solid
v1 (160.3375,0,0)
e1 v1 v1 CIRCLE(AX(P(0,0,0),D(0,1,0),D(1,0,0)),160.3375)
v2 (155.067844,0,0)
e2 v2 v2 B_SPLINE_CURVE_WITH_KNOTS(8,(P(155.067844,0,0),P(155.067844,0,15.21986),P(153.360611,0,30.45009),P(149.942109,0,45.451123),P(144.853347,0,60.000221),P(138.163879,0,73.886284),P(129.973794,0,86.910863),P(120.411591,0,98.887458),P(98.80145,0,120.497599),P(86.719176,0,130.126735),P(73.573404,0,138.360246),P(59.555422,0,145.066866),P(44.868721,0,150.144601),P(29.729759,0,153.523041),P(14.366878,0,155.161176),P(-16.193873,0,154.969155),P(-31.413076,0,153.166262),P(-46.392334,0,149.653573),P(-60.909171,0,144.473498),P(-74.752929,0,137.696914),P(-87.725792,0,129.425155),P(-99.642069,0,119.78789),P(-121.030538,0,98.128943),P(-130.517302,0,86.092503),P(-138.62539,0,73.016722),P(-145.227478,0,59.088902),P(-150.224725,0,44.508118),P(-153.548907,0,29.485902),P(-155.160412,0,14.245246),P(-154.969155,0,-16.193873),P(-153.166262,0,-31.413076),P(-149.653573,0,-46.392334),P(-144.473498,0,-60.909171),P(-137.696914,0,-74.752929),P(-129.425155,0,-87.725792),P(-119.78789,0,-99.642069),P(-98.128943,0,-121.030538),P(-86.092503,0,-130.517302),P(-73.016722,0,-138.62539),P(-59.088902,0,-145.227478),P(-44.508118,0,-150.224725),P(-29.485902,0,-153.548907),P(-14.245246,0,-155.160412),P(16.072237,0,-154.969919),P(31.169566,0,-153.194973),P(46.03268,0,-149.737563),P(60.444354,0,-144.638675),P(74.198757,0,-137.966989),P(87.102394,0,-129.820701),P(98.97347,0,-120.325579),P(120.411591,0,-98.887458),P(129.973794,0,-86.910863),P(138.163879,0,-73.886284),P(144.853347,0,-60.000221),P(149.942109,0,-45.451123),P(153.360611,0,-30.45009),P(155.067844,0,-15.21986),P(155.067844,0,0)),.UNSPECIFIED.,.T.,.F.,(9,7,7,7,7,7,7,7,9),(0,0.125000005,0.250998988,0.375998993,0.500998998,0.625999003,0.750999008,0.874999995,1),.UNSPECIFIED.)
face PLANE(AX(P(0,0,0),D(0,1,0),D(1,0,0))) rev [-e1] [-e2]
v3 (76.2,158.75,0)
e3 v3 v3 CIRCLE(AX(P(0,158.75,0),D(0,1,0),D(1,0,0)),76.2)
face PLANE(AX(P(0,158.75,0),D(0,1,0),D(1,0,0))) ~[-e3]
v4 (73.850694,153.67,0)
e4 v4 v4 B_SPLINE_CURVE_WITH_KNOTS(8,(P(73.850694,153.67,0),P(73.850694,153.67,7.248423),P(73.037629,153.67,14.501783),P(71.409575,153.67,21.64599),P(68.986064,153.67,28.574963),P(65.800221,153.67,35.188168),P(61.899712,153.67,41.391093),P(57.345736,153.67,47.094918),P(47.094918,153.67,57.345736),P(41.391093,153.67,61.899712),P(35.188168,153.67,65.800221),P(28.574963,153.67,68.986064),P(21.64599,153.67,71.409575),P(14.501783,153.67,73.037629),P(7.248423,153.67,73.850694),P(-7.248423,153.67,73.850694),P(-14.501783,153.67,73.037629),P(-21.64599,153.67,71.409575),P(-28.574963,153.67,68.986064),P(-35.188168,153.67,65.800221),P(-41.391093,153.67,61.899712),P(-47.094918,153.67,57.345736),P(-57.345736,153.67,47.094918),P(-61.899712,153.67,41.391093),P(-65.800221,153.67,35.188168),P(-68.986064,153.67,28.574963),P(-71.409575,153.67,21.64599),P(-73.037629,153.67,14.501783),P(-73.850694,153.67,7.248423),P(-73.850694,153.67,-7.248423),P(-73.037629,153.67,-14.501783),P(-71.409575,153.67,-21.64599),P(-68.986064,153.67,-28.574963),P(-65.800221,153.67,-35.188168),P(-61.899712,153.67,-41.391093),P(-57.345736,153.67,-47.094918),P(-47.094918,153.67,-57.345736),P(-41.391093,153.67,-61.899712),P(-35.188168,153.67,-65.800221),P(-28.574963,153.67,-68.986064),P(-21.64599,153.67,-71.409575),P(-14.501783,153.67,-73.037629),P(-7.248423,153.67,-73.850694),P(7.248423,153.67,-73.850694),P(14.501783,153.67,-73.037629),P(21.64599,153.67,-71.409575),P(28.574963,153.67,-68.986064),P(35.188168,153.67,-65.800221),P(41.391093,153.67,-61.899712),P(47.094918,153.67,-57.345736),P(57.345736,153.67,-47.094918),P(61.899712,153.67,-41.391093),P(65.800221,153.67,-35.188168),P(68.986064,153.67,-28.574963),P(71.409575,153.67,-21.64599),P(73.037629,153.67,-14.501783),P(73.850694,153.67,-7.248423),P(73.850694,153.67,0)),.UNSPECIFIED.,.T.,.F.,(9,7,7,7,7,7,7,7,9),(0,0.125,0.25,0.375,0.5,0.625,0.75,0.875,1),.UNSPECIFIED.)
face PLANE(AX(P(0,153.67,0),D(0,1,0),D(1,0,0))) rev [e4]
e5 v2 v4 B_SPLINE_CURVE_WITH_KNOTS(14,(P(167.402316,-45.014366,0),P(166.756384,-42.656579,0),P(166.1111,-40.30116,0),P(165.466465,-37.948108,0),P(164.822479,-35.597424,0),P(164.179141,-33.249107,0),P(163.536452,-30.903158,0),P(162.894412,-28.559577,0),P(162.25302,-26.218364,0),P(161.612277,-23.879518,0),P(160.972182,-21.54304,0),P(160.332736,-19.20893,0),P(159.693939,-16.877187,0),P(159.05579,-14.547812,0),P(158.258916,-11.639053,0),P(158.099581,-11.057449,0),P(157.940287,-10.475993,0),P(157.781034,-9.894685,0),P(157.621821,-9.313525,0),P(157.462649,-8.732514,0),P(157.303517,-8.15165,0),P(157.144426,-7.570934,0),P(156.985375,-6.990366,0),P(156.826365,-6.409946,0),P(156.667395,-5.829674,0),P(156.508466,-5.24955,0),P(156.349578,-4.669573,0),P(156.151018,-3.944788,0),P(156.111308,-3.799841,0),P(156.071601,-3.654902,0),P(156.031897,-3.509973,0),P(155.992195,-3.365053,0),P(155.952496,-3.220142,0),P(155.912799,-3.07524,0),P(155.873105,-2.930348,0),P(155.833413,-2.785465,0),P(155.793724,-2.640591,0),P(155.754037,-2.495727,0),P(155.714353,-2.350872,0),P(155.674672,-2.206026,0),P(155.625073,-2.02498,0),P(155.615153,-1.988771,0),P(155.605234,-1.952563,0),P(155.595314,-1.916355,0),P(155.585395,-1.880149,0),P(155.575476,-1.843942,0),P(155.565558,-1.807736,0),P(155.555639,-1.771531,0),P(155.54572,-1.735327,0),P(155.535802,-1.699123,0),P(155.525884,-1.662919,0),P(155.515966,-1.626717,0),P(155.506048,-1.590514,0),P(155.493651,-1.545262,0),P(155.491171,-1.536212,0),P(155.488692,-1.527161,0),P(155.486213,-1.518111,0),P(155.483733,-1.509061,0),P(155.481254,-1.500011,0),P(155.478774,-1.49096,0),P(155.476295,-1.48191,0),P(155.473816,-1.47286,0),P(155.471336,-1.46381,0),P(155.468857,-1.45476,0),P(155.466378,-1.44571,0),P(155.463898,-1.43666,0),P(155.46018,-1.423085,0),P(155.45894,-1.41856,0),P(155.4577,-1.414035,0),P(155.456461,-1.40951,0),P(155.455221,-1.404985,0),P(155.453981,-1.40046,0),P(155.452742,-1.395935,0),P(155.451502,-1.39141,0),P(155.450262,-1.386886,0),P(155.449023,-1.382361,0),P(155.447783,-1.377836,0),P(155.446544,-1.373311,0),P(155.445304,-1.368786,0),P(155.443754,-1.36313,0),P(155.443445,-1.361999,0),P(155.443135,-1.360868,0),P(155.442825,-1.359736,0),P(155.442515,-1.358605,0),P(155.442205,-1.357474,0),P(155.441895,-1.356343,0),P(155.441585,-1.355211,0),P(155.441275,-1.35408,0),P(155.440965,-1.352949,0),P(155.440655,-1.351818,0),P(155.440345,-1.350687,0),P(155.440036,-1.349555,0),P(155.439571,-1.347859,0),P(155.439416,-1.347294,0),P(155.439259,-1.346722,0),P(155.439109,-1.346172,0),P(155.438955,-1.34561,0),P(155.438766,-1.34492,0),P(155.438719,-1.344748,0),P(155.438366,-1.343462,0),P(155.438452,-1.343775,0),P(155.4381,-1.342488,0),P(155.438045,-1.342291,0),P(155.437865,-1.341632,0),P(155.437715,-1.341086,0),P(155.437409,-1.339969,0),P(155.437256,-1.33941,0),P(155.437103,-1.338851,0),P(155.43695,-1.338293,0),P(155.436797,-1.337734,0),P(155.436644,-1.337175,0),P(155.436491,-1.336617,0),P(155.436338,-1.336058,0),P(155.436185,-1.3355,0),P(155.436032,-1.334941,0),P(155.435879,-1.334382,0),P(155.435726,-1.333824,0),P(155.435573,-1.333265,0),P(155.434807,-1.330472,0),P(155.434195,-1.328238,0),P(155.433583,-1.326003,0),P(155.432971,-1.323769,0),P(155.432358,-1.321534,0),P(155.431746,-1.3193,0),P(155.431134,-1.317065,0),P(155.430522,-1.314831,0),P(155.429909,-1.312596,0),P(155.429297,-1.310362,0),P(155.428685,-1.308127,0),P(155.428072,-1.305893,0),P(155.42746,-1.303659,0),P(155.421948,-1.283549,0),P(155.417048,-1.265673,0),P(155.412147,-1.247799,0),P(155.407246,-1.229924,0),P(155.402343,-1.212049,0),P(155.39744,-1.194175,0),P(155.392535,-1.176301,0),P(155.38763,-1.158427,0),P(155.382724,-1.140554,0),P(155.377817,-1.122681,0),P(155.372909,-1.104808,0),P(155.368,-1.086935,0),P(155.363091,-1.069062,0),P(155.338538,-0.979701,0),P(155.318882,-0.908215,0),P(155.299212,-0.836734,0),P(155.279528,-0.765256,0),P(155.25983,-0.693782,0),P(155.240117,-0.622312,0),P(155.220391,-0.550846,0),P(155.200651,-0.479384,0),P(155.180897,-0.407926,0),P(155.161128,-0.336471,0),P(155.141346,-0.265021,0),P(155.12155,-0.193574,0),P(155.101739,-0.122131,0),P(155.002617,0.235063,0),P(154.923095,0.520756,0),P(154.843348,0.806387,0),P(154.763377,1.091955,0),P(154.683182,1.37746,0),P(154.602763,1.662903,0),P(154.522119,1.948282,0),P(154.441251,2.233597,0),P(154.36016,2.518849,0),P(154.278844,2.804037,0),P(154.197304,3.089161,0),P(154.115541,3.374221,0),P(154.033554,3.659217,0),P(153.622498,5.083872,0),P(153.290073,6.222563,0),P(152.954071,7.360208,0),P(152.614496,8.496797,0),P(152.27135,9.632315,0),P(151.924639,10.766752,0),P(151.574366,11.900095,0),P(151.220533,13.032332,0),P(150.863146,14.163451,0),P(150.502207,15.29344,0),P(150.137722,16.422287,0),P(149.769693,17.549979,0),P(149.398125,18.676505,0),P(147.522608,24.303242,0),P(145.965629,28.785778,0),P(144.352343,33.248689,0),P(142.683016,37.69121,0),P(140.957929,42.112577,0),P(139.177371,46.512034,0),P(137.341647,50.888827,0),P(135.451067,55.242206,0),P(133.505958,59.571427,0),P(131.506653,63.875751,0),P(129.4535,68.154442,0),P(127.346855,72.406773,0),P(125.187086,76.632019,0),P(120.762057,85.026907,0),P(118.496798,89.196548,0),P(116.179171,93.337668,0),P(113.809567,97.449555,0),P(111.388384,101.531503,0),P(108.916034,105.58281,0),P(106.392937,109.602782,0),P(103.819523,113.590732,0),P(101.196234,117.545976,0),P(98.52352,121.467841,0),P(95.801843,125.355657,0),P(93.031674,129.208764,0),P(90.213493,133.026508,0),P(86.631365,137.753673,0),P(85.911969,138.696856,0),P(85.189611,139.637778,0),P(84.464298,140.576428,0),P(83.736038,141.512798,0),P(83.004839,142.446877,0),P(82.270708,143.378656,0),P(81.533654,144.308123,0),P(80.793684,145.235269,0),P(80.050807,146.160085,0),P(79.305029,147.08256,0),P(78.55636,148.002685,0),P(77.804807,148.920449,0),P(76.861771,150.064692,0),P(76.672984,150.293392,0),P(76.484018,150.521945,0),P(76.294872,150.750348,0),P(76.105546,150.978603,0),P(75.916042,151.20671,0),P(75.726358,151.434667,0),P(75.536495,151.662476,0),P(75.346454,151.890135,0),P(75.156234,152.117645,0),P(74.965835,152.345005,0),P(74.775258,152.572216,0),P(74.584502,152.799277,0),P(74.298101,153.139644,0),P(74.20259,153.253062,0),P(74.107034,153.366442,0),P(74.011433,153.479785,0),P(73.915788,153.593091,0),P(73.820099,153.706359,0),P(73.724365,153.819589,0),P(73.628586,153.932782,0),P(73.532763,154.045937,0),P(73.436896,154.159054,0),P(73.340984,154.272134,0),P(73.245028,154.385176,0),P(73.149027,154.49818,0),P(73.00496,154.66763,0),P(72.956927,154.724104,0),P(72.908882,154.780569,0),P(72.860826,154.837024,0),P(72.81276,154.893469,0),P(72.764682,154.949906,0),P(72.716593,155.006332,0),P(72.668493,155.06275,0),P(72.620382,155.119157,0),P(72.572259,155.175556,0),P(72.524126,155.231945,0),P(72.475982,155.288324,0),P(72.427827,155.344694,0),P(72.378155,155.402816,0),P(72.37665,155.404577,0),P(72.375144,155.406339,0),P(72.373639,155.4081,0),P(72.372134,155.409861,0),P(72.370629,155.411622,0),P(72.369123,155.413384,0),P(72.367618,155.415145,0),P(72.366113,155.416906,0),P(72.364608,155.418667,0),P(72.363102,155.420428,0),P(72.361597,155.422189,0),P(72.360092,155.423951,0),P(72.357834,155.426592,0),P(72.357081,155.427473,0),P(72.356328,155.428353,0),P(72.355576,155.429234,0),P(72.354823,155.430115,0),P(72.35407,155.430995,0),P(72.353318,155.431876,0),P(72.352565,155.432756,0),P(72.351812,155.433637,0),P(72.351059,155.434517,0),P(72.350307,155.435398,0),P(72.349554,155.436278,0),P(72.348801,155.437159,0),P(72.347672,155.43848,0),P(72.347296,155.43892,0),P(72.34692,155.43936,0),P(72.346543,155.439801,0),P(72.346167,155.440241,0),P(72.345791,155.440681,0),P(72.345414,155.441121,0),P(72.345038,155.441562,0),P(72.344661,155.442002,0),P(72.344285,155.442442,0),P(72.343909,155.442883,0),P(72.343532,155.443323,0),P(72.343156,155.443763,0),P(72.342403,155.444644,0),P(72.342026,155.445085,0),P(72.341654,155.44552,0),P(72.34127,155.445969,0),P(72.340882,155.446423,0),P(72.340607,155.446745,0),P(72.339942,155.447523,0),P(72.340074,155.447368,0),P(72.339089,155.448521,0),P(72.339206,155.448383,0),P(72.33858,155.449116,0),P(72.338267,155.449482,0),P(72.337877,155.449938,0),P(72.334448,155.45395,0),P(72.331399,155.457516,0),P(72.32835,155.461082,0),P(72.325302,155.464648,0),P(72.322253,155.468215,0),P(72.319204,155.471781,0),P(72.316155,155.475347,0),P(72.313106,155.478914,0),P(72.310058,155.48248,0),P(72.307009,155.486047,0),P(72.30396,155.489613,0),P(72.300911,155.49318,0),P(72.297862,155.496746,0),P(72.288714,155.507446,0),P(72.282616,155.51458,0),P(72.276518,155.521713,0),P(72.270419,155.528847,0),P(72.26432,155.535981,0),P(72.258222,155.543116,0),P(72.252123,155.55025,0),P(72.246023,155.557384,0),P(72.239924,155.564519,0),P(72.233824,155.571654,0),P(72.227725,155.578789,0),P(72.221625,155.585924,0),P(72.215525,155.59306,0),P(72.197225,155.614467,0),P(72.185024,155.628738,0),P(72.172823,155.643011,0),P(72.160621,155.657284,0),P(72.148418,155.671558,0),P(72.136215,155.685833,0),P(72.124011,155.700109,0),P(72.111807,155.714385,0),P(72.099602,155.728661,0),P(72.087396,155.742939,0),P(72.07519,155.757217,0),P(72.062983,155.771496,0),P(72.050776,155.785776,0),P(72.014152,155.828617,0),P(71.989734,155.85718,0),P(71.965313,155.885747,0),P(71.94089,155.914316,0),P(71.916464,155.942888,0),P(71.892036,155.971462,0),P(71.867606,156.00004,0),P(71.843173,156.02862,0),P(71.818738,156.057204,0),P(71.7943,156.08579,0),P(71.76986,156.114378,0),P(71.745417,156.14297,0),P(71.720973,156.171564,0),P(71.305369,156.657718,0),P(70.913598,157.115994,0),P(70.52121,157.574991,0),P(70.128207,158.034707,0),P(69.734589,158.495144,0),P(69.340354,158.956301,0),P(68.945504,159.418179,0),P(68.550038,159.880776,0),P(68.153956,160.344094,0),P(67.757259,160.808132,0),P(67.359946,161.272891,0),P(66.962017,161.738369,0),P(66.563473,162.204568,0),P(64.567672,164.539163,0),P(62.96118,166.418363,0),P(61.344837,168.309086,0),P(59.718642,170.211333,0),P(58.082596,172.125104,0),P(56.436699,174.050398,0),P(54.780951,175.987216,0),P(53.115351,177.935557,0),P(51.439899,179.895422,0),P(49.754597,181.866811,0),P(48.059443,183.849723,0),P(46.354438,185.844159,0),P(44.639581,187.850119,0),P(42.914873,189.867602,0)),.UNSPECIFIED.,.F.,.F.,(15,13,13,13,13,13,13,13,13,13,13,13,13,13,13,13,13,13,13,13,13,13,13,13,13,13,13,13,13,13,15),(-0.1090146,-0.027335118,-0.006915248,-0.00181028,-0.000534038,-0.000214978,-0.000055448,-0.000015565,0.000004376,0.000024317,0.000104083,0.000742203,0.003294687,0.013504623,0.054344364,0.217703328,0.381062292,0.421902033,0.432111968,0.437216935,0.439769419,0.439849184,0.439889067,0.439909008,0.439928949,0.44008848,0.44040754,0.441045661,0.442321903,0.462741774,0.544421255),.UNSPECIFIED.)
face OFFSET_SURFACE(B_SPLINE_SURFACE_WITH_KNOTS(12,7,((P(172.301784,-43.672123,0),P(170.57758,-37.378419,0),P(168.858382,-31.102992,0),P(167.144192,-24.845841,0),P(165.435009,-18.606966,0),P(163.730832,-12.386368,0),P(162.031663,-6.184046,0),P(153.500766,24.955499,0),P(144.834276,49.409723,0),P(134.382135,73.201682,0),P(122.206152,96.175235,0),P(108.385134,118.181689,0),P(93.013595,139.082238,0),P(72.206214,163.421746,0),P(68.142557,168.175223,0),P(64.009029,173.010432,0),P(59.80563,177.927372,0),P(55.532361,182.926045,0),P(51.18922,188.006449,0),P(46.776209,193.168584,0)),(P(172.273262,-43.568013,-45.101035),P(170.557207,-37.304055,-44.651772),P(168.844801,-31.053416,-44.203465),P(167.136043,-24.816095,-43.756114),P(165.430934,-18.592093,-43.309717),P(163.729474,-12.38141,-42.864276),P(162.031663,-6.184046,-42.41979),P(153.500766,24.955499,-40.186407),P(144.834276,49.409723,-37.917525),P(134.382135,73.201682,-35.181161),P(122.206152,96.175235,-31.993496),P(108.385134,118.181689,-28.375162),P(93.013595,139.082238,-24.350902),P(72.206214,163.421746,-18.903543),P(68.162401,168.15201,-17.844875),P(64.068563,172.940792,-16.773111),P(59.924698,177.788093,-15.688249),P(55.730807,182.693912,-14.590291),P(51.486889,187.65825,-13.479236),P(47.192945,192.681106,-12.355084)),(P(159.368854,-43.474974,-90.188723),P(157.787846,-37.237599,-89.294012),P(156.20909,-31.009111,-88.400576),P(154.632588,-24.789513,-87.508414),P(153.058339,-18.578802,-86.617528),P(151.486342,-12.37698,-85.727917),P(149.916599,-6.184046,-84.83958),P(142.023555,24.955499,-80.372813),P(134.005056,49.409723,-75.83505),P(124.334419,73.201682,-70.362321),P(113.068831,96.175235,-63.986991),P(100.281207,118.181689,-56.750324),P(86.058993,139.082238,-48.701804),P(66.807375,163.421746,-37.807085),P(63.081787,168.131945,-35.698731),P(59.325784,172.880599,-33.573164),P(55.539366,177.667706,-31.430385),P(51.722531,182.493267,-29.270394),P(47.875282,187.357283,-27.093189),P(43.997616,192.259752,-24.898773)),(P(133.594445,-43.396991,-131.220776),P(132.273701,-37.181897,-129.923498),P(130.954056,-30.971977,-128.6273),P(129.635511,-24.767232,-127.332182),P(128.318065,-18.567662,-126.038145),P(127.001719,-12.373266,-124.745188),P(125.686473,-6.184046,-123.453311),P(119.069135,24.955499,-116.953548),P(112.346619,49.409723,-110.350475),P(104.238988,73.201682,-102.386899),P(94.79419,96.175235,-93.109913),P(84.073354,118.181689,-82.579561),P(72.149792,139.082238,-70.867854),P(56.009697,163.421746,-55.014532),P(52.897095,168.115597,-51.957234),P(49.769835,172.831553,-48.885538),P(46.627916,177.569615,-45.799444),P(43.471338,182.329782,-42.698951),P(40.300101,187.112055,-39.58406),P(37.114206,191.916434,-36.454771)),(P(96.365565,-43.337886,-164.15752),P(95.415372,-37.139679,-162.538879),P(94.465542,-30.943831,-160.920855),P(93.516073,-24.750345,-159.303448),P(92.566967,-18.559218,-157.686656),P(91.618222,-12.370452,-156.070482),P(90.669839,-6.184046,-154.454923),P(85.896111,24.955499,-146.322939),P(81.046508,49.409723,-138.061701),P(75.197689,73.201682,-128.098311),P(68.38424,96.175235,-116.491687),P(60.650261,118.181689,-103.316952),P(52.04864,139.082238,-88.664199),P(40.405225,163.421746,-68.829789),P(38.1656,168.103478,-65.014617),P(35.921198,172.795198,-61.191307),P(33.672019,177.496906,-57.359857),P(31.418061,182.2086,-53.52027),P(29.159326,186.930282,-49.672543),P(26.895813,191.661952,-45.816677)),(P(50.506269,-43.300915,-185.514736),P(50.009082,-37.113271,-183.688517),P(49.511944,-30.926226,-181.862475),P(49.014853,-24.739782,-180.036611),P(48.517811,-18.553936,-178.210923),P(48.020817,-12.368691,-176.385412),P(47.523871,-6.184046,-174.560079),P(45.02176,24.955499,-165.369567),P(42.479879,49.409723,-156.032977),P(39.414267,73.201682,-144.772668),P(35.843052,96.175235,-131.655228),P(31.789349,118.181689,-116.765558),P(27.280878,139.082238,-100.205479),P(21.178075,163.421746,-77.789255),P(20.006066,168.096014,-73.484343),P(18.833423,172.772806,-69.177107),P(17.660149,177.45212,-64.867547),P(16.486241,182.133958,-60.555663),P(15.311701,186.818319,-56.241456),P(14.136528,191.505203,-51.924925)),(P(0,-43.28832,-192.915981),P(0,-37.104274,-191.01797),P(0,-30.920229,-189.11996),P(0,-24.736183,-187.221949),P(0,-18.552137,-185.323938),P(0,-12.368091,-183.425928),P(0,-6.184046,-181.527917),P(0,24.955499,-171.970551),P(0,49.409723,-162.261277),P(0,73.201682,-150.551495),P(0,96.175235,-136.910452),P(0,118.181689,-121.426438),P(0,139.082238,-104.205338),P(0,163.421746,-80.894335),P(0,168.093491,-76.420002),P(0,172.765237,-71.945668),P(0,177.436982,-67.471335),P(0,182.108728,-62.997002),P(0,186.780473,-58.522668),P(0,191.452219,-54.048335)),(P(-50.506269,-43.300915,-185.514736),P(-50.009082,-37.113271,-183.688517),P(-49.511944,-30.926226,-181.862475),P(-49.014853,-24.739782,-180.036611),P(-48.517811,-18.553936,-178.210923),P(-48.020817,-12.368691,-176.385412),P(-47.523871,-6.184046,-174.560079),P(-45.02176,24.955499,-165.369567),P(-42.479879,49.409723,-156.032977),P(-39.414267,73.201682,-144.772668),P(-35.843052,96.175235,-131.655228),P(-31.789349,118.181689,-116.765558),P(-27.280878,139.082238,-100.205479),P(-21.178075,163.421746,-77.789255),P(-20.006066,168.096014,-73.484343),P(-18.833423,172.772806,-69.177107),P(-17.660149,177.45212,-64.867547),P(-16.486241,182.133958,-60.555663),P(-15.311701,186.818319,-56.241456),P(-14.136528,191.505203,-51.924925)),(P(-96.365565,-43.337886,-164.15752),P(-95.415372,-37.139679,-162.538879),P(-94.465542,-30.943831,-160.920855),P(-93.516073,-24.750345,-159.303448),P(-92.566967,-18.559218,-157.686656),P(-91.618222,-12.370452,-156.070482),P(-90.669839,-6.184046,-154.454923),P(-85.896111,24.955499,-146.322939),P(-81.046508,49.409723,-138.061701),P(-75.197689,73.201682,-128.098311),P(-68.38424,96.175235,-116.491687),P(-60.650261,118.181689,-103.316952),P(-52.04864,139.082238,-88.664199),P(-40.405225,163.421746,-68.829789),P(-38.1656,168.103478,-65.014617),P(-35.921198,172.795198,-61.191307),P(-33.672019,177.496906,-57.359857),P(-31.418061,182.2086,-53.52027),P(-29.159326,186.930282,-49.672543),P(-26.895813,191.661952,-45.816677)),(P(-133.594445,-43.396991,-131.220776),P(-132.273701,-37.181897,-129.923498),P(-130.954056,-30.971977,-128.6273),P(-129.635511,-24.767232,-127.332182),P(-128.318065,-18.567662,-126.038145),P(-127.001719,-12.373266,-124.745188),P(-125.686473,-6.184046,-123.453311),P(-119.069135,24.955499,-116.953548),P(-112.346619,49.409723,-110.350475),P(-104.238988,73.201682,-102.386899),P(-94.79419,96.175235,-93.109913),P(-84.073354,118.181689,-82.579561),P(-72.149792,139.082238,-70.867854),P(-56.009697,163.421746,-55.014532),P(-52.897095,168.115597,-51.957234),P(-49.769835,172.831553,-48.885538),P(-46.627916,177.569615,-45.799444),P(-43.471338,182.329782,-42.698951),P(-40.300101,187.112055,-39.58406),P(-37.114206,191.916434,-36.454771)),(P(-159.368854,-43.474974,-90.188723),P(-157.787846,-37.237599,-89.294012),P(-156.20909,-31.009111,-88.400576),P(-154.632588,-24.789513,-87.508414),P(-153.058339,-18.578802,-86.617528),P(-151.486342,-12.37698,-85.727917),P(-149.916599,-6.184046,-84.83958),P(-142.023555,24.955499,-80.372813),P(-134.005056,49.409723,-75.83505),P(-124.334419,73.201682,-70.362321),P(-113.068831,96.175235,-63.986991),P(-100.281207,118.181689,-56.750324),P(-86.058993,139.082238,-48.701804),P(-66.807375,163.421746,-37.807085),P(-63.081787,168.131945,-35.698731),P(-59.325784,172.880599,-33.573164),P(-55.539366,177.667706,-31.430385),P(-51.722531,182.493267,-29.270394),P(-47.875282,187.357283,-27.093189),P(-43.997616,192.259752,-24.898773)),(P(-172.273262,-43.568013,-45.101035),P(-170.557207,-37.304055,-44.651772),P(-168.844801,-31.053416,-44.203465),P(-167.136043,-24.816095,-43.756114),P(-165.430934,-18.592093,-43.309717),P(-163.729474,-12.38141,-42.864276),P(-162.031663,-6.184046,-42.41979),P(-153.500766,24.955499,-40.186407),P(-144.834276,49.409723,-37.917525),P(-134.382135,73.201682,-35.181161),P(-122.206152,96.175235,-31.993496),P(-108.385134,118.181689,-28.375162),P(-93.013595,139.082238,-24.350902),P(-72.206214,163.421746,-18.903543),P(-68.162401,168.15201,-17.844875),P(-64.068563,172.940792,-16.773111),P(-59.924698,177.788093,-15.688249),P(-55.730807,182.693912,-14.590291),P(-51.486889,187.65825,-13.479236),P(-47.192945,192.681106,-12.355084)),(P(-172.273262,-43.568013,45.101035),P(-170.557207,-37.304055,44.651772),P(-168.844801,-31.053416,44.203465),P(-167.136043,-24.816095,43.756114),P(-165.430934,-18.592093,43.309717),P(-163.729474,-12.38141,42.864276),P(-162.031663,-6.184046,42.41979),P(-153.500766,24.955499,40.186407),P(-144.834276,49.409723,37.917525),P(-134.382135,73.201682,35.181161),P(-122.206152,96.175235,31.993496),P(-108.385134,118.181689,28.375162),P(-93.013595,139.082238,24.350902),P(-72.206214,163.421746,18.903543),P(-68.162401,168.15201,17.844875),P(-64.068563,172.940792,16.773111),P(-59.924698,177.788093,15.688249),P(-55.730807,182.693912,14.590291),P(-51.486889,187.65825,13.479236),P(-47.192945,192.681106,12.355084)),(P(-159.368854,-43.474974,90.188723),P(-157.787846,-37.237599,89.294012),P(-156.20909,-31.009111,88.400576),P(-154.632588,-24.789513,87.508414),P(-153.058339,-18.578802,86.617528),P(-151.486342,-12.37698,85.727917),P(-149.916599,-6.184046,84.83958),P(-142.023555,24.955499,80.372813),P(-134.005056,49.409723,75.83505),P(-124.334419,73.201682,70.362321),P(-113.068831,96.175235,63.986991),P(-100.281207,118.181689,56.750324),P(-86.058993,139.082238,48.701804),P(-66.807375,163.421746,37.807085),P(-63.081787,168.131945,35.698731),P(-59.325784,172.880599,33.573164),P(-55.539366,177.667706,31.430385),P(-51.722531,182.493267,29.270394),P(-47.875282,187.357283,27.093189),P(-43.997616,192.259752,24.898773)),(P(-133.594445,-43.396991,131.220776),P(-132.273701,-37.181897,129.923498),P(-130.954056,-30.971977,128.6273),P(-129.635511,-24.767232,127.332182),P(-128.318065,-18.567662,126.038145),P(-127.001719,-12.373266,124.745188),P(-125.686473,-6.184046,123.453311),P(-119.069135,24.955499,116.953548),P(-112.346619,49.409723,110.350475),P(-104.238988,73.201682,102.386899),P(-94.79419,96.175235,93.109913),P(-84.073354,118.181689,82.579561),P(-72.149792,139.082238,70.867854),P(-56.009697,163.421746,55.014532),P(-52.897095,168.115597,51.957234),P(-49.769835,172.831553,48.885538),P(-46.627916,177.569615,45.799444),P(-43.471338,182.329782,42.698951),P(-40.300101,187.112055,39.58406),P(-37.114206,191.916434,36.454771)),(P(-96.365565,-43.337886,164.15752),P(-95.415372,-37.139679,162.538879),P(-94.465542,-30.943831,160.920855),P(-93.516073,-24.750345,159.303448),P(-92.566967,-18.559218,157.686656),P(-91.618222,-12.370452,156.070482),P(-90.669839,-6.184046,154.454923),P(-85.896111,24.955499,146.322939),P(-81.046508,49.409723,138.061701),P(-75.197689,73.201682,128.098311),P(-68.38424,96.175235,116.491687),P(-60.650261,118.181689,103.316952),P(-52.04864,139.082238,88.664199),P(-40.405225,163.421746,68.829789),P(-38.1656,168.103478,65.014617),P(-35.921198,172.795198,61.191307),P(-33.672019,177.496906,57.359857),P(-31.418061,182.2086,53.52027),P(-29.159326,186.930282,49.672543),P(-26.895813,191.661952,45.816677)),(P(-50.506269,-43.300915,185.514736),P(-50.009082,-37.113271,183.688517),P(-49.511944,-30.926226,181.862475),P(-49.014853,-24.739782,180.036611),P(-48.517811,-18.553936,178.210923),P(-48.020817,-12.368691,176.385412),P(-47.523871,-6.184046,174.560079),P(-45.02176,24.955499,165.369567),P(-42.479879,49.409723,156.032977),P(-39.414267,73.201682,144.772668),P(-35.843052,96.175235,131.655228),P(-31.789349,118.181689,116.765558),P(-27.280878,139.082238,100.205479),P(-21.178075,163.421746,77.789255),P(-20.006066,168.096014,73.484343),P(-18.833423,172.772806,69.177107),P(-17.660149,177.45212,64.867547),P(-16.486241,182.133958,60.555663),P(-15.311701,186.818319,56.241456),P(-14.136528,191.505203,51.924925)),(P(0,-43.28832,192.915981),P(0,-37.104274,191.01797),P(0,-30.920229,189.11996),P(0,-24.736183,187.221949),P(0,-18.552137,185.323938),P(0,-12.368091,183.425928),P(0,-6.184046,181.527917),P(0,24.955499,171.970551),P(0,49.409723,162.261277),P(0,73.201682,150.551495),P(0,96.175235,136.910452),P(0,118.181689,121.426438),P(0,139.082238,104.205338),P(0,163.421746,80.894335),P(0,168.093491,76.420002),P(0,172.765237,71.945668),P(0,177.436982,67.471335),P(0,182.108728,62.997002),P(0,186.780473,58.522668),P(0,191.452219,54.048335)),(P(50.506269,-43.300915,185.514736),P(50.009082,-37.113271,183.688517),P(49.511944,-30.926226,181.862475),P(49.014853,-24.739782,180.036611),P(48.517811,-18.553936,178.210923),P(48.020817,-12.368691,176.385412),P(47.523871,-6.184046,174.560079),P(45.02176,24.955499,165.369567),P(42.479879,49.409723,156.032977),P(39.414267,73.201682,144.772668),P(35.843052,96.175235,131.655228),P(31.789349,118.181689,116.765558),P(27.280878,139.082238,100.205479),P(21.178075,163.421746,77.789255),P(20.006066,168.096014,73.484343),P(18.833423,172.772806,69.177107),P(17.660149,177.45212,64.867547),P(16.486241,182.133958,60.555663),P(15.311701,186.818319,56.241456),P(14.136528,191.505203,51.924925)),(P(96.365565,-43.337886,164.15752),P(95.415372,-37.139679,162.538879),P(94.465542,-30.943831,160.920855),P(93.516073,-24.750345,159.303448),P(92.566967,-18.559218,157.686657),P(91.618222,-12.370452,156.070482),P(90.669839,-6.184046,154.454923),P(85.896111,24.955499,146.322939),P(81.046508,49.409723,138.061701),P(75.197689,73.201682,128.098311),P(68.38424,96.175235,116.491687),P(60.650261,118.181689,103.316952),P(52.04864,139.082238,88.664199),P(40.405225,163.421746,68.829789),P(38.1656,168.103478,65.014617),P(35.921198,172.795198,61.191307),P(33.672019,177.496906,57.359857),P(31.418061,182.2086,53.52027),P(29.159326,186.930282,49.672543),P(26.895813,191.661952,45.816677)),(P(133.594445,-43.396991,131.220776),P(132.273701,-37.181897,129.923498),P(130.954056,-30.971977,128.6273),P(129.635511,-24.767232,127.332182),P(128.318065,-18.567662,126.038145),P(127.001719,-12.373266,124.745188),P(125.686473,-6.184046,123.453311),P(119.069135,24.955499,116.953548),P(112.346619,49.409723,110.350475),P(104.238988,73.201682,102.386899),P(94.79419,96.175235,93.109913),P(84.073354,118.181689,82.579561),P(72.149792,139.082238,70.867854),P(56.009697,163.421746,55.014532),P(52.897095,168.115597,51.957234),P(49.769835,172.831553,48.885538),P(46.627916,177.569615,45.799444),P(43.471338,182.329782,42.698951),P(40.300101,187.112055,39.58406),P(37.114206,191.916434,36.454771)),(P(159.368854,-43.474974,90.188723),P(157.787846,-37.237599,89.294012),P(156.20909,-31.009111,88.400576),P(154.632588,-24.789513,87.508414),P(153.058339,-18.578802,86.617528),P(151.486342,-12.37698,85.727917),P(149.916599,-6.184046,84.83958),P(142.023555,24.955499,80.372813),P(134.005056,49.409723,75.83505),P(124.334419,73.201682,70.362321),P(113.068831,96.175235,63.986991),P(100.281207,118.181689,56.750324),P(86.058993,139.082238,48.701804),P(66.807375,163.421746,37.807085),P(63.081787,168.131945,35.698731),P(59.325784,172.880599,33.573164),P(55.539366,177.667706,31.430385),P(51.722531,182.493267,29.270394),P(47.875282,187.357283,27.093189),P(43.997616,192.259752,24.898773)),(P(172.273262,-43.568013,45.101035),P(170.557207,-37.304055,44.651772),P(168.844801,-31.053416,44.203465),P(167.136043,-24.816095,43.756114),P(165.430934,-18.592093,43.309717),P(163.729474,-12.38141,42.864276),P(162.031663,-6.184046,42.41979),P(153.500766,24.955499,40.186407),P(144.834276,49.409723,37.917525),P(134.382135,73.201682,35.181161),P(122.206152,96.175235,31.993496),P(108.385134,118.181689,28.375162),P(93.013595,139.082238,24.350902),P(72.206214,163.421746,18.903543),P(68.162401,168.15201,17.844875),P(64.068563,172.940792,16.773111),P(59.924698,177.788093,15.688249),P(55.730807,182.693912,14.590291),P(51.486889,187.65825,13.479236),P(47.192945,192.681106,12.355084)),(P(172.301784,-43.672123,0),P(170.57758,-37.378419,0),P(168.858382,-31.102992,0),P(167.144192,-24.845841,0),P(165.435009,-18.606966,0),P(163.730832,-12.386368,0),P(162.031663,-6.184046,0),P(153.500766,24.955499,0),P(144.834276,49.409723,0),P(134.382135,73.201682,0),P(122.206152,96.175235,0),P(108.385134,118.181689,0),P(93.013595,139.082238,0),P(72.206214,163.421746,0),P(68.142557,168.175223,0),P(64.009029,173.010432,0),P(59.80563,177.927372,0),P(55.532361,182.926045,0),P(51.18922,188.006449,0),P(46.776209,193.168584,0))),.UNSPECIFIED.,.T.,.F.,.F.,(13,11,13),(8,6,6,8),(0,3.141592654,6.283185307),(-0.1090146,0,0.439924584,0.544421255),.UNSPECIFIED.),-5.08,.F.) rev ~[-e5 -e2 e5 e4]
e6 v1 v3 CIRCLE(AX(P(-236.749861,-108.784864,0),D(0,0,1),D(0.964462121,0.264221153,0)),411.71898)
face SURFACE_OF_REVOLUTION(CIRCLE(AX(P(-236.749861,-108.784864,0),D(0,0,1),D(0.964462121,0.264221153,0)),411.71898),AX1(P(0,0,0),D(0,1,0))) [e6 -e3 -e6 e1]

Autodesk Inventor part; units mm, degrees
ref_plane "YZ Plane" through (0, 0, 0) normal (1, 0, 0) x (0, 1, 0)
ref_plane "XZ Plane" through (0, 0, 0) normal (0, 1, 0) x (-1, 0, 0)
ref_plane "XY Plane" through (0, 0, 0) normal (0, 0, 1) x (1, 0, 0)
sketch "Sketch1" plane through (0, 0, 0) normal (0, 0, 1) x (1, 0, 0)
  line L0 (0, 0) -> (0, 158.75)
  line L1 (0, 158.75) -> (76.2, 158.75)
  line L2 (0, 0) -> (160.3375, 0)
  arc A0 (160.3375, 0) -> (76.2, 158.75) centre (-236.7497, -108.7848) ccw
  dimension "d0" = 158.75
  dimension "d1" = 76.2
  dimension "d2" = 160.3375
revolve "Revolution1" add sketch "Sketch1" angle 360 about axis through (0, 0, 0) along (0, 1, 0)
shell "Shell1" thickness 5.08 removed faces 1 at (30.762, 0, 60.7873)
properties part number "Head" material "Polypropylene"
